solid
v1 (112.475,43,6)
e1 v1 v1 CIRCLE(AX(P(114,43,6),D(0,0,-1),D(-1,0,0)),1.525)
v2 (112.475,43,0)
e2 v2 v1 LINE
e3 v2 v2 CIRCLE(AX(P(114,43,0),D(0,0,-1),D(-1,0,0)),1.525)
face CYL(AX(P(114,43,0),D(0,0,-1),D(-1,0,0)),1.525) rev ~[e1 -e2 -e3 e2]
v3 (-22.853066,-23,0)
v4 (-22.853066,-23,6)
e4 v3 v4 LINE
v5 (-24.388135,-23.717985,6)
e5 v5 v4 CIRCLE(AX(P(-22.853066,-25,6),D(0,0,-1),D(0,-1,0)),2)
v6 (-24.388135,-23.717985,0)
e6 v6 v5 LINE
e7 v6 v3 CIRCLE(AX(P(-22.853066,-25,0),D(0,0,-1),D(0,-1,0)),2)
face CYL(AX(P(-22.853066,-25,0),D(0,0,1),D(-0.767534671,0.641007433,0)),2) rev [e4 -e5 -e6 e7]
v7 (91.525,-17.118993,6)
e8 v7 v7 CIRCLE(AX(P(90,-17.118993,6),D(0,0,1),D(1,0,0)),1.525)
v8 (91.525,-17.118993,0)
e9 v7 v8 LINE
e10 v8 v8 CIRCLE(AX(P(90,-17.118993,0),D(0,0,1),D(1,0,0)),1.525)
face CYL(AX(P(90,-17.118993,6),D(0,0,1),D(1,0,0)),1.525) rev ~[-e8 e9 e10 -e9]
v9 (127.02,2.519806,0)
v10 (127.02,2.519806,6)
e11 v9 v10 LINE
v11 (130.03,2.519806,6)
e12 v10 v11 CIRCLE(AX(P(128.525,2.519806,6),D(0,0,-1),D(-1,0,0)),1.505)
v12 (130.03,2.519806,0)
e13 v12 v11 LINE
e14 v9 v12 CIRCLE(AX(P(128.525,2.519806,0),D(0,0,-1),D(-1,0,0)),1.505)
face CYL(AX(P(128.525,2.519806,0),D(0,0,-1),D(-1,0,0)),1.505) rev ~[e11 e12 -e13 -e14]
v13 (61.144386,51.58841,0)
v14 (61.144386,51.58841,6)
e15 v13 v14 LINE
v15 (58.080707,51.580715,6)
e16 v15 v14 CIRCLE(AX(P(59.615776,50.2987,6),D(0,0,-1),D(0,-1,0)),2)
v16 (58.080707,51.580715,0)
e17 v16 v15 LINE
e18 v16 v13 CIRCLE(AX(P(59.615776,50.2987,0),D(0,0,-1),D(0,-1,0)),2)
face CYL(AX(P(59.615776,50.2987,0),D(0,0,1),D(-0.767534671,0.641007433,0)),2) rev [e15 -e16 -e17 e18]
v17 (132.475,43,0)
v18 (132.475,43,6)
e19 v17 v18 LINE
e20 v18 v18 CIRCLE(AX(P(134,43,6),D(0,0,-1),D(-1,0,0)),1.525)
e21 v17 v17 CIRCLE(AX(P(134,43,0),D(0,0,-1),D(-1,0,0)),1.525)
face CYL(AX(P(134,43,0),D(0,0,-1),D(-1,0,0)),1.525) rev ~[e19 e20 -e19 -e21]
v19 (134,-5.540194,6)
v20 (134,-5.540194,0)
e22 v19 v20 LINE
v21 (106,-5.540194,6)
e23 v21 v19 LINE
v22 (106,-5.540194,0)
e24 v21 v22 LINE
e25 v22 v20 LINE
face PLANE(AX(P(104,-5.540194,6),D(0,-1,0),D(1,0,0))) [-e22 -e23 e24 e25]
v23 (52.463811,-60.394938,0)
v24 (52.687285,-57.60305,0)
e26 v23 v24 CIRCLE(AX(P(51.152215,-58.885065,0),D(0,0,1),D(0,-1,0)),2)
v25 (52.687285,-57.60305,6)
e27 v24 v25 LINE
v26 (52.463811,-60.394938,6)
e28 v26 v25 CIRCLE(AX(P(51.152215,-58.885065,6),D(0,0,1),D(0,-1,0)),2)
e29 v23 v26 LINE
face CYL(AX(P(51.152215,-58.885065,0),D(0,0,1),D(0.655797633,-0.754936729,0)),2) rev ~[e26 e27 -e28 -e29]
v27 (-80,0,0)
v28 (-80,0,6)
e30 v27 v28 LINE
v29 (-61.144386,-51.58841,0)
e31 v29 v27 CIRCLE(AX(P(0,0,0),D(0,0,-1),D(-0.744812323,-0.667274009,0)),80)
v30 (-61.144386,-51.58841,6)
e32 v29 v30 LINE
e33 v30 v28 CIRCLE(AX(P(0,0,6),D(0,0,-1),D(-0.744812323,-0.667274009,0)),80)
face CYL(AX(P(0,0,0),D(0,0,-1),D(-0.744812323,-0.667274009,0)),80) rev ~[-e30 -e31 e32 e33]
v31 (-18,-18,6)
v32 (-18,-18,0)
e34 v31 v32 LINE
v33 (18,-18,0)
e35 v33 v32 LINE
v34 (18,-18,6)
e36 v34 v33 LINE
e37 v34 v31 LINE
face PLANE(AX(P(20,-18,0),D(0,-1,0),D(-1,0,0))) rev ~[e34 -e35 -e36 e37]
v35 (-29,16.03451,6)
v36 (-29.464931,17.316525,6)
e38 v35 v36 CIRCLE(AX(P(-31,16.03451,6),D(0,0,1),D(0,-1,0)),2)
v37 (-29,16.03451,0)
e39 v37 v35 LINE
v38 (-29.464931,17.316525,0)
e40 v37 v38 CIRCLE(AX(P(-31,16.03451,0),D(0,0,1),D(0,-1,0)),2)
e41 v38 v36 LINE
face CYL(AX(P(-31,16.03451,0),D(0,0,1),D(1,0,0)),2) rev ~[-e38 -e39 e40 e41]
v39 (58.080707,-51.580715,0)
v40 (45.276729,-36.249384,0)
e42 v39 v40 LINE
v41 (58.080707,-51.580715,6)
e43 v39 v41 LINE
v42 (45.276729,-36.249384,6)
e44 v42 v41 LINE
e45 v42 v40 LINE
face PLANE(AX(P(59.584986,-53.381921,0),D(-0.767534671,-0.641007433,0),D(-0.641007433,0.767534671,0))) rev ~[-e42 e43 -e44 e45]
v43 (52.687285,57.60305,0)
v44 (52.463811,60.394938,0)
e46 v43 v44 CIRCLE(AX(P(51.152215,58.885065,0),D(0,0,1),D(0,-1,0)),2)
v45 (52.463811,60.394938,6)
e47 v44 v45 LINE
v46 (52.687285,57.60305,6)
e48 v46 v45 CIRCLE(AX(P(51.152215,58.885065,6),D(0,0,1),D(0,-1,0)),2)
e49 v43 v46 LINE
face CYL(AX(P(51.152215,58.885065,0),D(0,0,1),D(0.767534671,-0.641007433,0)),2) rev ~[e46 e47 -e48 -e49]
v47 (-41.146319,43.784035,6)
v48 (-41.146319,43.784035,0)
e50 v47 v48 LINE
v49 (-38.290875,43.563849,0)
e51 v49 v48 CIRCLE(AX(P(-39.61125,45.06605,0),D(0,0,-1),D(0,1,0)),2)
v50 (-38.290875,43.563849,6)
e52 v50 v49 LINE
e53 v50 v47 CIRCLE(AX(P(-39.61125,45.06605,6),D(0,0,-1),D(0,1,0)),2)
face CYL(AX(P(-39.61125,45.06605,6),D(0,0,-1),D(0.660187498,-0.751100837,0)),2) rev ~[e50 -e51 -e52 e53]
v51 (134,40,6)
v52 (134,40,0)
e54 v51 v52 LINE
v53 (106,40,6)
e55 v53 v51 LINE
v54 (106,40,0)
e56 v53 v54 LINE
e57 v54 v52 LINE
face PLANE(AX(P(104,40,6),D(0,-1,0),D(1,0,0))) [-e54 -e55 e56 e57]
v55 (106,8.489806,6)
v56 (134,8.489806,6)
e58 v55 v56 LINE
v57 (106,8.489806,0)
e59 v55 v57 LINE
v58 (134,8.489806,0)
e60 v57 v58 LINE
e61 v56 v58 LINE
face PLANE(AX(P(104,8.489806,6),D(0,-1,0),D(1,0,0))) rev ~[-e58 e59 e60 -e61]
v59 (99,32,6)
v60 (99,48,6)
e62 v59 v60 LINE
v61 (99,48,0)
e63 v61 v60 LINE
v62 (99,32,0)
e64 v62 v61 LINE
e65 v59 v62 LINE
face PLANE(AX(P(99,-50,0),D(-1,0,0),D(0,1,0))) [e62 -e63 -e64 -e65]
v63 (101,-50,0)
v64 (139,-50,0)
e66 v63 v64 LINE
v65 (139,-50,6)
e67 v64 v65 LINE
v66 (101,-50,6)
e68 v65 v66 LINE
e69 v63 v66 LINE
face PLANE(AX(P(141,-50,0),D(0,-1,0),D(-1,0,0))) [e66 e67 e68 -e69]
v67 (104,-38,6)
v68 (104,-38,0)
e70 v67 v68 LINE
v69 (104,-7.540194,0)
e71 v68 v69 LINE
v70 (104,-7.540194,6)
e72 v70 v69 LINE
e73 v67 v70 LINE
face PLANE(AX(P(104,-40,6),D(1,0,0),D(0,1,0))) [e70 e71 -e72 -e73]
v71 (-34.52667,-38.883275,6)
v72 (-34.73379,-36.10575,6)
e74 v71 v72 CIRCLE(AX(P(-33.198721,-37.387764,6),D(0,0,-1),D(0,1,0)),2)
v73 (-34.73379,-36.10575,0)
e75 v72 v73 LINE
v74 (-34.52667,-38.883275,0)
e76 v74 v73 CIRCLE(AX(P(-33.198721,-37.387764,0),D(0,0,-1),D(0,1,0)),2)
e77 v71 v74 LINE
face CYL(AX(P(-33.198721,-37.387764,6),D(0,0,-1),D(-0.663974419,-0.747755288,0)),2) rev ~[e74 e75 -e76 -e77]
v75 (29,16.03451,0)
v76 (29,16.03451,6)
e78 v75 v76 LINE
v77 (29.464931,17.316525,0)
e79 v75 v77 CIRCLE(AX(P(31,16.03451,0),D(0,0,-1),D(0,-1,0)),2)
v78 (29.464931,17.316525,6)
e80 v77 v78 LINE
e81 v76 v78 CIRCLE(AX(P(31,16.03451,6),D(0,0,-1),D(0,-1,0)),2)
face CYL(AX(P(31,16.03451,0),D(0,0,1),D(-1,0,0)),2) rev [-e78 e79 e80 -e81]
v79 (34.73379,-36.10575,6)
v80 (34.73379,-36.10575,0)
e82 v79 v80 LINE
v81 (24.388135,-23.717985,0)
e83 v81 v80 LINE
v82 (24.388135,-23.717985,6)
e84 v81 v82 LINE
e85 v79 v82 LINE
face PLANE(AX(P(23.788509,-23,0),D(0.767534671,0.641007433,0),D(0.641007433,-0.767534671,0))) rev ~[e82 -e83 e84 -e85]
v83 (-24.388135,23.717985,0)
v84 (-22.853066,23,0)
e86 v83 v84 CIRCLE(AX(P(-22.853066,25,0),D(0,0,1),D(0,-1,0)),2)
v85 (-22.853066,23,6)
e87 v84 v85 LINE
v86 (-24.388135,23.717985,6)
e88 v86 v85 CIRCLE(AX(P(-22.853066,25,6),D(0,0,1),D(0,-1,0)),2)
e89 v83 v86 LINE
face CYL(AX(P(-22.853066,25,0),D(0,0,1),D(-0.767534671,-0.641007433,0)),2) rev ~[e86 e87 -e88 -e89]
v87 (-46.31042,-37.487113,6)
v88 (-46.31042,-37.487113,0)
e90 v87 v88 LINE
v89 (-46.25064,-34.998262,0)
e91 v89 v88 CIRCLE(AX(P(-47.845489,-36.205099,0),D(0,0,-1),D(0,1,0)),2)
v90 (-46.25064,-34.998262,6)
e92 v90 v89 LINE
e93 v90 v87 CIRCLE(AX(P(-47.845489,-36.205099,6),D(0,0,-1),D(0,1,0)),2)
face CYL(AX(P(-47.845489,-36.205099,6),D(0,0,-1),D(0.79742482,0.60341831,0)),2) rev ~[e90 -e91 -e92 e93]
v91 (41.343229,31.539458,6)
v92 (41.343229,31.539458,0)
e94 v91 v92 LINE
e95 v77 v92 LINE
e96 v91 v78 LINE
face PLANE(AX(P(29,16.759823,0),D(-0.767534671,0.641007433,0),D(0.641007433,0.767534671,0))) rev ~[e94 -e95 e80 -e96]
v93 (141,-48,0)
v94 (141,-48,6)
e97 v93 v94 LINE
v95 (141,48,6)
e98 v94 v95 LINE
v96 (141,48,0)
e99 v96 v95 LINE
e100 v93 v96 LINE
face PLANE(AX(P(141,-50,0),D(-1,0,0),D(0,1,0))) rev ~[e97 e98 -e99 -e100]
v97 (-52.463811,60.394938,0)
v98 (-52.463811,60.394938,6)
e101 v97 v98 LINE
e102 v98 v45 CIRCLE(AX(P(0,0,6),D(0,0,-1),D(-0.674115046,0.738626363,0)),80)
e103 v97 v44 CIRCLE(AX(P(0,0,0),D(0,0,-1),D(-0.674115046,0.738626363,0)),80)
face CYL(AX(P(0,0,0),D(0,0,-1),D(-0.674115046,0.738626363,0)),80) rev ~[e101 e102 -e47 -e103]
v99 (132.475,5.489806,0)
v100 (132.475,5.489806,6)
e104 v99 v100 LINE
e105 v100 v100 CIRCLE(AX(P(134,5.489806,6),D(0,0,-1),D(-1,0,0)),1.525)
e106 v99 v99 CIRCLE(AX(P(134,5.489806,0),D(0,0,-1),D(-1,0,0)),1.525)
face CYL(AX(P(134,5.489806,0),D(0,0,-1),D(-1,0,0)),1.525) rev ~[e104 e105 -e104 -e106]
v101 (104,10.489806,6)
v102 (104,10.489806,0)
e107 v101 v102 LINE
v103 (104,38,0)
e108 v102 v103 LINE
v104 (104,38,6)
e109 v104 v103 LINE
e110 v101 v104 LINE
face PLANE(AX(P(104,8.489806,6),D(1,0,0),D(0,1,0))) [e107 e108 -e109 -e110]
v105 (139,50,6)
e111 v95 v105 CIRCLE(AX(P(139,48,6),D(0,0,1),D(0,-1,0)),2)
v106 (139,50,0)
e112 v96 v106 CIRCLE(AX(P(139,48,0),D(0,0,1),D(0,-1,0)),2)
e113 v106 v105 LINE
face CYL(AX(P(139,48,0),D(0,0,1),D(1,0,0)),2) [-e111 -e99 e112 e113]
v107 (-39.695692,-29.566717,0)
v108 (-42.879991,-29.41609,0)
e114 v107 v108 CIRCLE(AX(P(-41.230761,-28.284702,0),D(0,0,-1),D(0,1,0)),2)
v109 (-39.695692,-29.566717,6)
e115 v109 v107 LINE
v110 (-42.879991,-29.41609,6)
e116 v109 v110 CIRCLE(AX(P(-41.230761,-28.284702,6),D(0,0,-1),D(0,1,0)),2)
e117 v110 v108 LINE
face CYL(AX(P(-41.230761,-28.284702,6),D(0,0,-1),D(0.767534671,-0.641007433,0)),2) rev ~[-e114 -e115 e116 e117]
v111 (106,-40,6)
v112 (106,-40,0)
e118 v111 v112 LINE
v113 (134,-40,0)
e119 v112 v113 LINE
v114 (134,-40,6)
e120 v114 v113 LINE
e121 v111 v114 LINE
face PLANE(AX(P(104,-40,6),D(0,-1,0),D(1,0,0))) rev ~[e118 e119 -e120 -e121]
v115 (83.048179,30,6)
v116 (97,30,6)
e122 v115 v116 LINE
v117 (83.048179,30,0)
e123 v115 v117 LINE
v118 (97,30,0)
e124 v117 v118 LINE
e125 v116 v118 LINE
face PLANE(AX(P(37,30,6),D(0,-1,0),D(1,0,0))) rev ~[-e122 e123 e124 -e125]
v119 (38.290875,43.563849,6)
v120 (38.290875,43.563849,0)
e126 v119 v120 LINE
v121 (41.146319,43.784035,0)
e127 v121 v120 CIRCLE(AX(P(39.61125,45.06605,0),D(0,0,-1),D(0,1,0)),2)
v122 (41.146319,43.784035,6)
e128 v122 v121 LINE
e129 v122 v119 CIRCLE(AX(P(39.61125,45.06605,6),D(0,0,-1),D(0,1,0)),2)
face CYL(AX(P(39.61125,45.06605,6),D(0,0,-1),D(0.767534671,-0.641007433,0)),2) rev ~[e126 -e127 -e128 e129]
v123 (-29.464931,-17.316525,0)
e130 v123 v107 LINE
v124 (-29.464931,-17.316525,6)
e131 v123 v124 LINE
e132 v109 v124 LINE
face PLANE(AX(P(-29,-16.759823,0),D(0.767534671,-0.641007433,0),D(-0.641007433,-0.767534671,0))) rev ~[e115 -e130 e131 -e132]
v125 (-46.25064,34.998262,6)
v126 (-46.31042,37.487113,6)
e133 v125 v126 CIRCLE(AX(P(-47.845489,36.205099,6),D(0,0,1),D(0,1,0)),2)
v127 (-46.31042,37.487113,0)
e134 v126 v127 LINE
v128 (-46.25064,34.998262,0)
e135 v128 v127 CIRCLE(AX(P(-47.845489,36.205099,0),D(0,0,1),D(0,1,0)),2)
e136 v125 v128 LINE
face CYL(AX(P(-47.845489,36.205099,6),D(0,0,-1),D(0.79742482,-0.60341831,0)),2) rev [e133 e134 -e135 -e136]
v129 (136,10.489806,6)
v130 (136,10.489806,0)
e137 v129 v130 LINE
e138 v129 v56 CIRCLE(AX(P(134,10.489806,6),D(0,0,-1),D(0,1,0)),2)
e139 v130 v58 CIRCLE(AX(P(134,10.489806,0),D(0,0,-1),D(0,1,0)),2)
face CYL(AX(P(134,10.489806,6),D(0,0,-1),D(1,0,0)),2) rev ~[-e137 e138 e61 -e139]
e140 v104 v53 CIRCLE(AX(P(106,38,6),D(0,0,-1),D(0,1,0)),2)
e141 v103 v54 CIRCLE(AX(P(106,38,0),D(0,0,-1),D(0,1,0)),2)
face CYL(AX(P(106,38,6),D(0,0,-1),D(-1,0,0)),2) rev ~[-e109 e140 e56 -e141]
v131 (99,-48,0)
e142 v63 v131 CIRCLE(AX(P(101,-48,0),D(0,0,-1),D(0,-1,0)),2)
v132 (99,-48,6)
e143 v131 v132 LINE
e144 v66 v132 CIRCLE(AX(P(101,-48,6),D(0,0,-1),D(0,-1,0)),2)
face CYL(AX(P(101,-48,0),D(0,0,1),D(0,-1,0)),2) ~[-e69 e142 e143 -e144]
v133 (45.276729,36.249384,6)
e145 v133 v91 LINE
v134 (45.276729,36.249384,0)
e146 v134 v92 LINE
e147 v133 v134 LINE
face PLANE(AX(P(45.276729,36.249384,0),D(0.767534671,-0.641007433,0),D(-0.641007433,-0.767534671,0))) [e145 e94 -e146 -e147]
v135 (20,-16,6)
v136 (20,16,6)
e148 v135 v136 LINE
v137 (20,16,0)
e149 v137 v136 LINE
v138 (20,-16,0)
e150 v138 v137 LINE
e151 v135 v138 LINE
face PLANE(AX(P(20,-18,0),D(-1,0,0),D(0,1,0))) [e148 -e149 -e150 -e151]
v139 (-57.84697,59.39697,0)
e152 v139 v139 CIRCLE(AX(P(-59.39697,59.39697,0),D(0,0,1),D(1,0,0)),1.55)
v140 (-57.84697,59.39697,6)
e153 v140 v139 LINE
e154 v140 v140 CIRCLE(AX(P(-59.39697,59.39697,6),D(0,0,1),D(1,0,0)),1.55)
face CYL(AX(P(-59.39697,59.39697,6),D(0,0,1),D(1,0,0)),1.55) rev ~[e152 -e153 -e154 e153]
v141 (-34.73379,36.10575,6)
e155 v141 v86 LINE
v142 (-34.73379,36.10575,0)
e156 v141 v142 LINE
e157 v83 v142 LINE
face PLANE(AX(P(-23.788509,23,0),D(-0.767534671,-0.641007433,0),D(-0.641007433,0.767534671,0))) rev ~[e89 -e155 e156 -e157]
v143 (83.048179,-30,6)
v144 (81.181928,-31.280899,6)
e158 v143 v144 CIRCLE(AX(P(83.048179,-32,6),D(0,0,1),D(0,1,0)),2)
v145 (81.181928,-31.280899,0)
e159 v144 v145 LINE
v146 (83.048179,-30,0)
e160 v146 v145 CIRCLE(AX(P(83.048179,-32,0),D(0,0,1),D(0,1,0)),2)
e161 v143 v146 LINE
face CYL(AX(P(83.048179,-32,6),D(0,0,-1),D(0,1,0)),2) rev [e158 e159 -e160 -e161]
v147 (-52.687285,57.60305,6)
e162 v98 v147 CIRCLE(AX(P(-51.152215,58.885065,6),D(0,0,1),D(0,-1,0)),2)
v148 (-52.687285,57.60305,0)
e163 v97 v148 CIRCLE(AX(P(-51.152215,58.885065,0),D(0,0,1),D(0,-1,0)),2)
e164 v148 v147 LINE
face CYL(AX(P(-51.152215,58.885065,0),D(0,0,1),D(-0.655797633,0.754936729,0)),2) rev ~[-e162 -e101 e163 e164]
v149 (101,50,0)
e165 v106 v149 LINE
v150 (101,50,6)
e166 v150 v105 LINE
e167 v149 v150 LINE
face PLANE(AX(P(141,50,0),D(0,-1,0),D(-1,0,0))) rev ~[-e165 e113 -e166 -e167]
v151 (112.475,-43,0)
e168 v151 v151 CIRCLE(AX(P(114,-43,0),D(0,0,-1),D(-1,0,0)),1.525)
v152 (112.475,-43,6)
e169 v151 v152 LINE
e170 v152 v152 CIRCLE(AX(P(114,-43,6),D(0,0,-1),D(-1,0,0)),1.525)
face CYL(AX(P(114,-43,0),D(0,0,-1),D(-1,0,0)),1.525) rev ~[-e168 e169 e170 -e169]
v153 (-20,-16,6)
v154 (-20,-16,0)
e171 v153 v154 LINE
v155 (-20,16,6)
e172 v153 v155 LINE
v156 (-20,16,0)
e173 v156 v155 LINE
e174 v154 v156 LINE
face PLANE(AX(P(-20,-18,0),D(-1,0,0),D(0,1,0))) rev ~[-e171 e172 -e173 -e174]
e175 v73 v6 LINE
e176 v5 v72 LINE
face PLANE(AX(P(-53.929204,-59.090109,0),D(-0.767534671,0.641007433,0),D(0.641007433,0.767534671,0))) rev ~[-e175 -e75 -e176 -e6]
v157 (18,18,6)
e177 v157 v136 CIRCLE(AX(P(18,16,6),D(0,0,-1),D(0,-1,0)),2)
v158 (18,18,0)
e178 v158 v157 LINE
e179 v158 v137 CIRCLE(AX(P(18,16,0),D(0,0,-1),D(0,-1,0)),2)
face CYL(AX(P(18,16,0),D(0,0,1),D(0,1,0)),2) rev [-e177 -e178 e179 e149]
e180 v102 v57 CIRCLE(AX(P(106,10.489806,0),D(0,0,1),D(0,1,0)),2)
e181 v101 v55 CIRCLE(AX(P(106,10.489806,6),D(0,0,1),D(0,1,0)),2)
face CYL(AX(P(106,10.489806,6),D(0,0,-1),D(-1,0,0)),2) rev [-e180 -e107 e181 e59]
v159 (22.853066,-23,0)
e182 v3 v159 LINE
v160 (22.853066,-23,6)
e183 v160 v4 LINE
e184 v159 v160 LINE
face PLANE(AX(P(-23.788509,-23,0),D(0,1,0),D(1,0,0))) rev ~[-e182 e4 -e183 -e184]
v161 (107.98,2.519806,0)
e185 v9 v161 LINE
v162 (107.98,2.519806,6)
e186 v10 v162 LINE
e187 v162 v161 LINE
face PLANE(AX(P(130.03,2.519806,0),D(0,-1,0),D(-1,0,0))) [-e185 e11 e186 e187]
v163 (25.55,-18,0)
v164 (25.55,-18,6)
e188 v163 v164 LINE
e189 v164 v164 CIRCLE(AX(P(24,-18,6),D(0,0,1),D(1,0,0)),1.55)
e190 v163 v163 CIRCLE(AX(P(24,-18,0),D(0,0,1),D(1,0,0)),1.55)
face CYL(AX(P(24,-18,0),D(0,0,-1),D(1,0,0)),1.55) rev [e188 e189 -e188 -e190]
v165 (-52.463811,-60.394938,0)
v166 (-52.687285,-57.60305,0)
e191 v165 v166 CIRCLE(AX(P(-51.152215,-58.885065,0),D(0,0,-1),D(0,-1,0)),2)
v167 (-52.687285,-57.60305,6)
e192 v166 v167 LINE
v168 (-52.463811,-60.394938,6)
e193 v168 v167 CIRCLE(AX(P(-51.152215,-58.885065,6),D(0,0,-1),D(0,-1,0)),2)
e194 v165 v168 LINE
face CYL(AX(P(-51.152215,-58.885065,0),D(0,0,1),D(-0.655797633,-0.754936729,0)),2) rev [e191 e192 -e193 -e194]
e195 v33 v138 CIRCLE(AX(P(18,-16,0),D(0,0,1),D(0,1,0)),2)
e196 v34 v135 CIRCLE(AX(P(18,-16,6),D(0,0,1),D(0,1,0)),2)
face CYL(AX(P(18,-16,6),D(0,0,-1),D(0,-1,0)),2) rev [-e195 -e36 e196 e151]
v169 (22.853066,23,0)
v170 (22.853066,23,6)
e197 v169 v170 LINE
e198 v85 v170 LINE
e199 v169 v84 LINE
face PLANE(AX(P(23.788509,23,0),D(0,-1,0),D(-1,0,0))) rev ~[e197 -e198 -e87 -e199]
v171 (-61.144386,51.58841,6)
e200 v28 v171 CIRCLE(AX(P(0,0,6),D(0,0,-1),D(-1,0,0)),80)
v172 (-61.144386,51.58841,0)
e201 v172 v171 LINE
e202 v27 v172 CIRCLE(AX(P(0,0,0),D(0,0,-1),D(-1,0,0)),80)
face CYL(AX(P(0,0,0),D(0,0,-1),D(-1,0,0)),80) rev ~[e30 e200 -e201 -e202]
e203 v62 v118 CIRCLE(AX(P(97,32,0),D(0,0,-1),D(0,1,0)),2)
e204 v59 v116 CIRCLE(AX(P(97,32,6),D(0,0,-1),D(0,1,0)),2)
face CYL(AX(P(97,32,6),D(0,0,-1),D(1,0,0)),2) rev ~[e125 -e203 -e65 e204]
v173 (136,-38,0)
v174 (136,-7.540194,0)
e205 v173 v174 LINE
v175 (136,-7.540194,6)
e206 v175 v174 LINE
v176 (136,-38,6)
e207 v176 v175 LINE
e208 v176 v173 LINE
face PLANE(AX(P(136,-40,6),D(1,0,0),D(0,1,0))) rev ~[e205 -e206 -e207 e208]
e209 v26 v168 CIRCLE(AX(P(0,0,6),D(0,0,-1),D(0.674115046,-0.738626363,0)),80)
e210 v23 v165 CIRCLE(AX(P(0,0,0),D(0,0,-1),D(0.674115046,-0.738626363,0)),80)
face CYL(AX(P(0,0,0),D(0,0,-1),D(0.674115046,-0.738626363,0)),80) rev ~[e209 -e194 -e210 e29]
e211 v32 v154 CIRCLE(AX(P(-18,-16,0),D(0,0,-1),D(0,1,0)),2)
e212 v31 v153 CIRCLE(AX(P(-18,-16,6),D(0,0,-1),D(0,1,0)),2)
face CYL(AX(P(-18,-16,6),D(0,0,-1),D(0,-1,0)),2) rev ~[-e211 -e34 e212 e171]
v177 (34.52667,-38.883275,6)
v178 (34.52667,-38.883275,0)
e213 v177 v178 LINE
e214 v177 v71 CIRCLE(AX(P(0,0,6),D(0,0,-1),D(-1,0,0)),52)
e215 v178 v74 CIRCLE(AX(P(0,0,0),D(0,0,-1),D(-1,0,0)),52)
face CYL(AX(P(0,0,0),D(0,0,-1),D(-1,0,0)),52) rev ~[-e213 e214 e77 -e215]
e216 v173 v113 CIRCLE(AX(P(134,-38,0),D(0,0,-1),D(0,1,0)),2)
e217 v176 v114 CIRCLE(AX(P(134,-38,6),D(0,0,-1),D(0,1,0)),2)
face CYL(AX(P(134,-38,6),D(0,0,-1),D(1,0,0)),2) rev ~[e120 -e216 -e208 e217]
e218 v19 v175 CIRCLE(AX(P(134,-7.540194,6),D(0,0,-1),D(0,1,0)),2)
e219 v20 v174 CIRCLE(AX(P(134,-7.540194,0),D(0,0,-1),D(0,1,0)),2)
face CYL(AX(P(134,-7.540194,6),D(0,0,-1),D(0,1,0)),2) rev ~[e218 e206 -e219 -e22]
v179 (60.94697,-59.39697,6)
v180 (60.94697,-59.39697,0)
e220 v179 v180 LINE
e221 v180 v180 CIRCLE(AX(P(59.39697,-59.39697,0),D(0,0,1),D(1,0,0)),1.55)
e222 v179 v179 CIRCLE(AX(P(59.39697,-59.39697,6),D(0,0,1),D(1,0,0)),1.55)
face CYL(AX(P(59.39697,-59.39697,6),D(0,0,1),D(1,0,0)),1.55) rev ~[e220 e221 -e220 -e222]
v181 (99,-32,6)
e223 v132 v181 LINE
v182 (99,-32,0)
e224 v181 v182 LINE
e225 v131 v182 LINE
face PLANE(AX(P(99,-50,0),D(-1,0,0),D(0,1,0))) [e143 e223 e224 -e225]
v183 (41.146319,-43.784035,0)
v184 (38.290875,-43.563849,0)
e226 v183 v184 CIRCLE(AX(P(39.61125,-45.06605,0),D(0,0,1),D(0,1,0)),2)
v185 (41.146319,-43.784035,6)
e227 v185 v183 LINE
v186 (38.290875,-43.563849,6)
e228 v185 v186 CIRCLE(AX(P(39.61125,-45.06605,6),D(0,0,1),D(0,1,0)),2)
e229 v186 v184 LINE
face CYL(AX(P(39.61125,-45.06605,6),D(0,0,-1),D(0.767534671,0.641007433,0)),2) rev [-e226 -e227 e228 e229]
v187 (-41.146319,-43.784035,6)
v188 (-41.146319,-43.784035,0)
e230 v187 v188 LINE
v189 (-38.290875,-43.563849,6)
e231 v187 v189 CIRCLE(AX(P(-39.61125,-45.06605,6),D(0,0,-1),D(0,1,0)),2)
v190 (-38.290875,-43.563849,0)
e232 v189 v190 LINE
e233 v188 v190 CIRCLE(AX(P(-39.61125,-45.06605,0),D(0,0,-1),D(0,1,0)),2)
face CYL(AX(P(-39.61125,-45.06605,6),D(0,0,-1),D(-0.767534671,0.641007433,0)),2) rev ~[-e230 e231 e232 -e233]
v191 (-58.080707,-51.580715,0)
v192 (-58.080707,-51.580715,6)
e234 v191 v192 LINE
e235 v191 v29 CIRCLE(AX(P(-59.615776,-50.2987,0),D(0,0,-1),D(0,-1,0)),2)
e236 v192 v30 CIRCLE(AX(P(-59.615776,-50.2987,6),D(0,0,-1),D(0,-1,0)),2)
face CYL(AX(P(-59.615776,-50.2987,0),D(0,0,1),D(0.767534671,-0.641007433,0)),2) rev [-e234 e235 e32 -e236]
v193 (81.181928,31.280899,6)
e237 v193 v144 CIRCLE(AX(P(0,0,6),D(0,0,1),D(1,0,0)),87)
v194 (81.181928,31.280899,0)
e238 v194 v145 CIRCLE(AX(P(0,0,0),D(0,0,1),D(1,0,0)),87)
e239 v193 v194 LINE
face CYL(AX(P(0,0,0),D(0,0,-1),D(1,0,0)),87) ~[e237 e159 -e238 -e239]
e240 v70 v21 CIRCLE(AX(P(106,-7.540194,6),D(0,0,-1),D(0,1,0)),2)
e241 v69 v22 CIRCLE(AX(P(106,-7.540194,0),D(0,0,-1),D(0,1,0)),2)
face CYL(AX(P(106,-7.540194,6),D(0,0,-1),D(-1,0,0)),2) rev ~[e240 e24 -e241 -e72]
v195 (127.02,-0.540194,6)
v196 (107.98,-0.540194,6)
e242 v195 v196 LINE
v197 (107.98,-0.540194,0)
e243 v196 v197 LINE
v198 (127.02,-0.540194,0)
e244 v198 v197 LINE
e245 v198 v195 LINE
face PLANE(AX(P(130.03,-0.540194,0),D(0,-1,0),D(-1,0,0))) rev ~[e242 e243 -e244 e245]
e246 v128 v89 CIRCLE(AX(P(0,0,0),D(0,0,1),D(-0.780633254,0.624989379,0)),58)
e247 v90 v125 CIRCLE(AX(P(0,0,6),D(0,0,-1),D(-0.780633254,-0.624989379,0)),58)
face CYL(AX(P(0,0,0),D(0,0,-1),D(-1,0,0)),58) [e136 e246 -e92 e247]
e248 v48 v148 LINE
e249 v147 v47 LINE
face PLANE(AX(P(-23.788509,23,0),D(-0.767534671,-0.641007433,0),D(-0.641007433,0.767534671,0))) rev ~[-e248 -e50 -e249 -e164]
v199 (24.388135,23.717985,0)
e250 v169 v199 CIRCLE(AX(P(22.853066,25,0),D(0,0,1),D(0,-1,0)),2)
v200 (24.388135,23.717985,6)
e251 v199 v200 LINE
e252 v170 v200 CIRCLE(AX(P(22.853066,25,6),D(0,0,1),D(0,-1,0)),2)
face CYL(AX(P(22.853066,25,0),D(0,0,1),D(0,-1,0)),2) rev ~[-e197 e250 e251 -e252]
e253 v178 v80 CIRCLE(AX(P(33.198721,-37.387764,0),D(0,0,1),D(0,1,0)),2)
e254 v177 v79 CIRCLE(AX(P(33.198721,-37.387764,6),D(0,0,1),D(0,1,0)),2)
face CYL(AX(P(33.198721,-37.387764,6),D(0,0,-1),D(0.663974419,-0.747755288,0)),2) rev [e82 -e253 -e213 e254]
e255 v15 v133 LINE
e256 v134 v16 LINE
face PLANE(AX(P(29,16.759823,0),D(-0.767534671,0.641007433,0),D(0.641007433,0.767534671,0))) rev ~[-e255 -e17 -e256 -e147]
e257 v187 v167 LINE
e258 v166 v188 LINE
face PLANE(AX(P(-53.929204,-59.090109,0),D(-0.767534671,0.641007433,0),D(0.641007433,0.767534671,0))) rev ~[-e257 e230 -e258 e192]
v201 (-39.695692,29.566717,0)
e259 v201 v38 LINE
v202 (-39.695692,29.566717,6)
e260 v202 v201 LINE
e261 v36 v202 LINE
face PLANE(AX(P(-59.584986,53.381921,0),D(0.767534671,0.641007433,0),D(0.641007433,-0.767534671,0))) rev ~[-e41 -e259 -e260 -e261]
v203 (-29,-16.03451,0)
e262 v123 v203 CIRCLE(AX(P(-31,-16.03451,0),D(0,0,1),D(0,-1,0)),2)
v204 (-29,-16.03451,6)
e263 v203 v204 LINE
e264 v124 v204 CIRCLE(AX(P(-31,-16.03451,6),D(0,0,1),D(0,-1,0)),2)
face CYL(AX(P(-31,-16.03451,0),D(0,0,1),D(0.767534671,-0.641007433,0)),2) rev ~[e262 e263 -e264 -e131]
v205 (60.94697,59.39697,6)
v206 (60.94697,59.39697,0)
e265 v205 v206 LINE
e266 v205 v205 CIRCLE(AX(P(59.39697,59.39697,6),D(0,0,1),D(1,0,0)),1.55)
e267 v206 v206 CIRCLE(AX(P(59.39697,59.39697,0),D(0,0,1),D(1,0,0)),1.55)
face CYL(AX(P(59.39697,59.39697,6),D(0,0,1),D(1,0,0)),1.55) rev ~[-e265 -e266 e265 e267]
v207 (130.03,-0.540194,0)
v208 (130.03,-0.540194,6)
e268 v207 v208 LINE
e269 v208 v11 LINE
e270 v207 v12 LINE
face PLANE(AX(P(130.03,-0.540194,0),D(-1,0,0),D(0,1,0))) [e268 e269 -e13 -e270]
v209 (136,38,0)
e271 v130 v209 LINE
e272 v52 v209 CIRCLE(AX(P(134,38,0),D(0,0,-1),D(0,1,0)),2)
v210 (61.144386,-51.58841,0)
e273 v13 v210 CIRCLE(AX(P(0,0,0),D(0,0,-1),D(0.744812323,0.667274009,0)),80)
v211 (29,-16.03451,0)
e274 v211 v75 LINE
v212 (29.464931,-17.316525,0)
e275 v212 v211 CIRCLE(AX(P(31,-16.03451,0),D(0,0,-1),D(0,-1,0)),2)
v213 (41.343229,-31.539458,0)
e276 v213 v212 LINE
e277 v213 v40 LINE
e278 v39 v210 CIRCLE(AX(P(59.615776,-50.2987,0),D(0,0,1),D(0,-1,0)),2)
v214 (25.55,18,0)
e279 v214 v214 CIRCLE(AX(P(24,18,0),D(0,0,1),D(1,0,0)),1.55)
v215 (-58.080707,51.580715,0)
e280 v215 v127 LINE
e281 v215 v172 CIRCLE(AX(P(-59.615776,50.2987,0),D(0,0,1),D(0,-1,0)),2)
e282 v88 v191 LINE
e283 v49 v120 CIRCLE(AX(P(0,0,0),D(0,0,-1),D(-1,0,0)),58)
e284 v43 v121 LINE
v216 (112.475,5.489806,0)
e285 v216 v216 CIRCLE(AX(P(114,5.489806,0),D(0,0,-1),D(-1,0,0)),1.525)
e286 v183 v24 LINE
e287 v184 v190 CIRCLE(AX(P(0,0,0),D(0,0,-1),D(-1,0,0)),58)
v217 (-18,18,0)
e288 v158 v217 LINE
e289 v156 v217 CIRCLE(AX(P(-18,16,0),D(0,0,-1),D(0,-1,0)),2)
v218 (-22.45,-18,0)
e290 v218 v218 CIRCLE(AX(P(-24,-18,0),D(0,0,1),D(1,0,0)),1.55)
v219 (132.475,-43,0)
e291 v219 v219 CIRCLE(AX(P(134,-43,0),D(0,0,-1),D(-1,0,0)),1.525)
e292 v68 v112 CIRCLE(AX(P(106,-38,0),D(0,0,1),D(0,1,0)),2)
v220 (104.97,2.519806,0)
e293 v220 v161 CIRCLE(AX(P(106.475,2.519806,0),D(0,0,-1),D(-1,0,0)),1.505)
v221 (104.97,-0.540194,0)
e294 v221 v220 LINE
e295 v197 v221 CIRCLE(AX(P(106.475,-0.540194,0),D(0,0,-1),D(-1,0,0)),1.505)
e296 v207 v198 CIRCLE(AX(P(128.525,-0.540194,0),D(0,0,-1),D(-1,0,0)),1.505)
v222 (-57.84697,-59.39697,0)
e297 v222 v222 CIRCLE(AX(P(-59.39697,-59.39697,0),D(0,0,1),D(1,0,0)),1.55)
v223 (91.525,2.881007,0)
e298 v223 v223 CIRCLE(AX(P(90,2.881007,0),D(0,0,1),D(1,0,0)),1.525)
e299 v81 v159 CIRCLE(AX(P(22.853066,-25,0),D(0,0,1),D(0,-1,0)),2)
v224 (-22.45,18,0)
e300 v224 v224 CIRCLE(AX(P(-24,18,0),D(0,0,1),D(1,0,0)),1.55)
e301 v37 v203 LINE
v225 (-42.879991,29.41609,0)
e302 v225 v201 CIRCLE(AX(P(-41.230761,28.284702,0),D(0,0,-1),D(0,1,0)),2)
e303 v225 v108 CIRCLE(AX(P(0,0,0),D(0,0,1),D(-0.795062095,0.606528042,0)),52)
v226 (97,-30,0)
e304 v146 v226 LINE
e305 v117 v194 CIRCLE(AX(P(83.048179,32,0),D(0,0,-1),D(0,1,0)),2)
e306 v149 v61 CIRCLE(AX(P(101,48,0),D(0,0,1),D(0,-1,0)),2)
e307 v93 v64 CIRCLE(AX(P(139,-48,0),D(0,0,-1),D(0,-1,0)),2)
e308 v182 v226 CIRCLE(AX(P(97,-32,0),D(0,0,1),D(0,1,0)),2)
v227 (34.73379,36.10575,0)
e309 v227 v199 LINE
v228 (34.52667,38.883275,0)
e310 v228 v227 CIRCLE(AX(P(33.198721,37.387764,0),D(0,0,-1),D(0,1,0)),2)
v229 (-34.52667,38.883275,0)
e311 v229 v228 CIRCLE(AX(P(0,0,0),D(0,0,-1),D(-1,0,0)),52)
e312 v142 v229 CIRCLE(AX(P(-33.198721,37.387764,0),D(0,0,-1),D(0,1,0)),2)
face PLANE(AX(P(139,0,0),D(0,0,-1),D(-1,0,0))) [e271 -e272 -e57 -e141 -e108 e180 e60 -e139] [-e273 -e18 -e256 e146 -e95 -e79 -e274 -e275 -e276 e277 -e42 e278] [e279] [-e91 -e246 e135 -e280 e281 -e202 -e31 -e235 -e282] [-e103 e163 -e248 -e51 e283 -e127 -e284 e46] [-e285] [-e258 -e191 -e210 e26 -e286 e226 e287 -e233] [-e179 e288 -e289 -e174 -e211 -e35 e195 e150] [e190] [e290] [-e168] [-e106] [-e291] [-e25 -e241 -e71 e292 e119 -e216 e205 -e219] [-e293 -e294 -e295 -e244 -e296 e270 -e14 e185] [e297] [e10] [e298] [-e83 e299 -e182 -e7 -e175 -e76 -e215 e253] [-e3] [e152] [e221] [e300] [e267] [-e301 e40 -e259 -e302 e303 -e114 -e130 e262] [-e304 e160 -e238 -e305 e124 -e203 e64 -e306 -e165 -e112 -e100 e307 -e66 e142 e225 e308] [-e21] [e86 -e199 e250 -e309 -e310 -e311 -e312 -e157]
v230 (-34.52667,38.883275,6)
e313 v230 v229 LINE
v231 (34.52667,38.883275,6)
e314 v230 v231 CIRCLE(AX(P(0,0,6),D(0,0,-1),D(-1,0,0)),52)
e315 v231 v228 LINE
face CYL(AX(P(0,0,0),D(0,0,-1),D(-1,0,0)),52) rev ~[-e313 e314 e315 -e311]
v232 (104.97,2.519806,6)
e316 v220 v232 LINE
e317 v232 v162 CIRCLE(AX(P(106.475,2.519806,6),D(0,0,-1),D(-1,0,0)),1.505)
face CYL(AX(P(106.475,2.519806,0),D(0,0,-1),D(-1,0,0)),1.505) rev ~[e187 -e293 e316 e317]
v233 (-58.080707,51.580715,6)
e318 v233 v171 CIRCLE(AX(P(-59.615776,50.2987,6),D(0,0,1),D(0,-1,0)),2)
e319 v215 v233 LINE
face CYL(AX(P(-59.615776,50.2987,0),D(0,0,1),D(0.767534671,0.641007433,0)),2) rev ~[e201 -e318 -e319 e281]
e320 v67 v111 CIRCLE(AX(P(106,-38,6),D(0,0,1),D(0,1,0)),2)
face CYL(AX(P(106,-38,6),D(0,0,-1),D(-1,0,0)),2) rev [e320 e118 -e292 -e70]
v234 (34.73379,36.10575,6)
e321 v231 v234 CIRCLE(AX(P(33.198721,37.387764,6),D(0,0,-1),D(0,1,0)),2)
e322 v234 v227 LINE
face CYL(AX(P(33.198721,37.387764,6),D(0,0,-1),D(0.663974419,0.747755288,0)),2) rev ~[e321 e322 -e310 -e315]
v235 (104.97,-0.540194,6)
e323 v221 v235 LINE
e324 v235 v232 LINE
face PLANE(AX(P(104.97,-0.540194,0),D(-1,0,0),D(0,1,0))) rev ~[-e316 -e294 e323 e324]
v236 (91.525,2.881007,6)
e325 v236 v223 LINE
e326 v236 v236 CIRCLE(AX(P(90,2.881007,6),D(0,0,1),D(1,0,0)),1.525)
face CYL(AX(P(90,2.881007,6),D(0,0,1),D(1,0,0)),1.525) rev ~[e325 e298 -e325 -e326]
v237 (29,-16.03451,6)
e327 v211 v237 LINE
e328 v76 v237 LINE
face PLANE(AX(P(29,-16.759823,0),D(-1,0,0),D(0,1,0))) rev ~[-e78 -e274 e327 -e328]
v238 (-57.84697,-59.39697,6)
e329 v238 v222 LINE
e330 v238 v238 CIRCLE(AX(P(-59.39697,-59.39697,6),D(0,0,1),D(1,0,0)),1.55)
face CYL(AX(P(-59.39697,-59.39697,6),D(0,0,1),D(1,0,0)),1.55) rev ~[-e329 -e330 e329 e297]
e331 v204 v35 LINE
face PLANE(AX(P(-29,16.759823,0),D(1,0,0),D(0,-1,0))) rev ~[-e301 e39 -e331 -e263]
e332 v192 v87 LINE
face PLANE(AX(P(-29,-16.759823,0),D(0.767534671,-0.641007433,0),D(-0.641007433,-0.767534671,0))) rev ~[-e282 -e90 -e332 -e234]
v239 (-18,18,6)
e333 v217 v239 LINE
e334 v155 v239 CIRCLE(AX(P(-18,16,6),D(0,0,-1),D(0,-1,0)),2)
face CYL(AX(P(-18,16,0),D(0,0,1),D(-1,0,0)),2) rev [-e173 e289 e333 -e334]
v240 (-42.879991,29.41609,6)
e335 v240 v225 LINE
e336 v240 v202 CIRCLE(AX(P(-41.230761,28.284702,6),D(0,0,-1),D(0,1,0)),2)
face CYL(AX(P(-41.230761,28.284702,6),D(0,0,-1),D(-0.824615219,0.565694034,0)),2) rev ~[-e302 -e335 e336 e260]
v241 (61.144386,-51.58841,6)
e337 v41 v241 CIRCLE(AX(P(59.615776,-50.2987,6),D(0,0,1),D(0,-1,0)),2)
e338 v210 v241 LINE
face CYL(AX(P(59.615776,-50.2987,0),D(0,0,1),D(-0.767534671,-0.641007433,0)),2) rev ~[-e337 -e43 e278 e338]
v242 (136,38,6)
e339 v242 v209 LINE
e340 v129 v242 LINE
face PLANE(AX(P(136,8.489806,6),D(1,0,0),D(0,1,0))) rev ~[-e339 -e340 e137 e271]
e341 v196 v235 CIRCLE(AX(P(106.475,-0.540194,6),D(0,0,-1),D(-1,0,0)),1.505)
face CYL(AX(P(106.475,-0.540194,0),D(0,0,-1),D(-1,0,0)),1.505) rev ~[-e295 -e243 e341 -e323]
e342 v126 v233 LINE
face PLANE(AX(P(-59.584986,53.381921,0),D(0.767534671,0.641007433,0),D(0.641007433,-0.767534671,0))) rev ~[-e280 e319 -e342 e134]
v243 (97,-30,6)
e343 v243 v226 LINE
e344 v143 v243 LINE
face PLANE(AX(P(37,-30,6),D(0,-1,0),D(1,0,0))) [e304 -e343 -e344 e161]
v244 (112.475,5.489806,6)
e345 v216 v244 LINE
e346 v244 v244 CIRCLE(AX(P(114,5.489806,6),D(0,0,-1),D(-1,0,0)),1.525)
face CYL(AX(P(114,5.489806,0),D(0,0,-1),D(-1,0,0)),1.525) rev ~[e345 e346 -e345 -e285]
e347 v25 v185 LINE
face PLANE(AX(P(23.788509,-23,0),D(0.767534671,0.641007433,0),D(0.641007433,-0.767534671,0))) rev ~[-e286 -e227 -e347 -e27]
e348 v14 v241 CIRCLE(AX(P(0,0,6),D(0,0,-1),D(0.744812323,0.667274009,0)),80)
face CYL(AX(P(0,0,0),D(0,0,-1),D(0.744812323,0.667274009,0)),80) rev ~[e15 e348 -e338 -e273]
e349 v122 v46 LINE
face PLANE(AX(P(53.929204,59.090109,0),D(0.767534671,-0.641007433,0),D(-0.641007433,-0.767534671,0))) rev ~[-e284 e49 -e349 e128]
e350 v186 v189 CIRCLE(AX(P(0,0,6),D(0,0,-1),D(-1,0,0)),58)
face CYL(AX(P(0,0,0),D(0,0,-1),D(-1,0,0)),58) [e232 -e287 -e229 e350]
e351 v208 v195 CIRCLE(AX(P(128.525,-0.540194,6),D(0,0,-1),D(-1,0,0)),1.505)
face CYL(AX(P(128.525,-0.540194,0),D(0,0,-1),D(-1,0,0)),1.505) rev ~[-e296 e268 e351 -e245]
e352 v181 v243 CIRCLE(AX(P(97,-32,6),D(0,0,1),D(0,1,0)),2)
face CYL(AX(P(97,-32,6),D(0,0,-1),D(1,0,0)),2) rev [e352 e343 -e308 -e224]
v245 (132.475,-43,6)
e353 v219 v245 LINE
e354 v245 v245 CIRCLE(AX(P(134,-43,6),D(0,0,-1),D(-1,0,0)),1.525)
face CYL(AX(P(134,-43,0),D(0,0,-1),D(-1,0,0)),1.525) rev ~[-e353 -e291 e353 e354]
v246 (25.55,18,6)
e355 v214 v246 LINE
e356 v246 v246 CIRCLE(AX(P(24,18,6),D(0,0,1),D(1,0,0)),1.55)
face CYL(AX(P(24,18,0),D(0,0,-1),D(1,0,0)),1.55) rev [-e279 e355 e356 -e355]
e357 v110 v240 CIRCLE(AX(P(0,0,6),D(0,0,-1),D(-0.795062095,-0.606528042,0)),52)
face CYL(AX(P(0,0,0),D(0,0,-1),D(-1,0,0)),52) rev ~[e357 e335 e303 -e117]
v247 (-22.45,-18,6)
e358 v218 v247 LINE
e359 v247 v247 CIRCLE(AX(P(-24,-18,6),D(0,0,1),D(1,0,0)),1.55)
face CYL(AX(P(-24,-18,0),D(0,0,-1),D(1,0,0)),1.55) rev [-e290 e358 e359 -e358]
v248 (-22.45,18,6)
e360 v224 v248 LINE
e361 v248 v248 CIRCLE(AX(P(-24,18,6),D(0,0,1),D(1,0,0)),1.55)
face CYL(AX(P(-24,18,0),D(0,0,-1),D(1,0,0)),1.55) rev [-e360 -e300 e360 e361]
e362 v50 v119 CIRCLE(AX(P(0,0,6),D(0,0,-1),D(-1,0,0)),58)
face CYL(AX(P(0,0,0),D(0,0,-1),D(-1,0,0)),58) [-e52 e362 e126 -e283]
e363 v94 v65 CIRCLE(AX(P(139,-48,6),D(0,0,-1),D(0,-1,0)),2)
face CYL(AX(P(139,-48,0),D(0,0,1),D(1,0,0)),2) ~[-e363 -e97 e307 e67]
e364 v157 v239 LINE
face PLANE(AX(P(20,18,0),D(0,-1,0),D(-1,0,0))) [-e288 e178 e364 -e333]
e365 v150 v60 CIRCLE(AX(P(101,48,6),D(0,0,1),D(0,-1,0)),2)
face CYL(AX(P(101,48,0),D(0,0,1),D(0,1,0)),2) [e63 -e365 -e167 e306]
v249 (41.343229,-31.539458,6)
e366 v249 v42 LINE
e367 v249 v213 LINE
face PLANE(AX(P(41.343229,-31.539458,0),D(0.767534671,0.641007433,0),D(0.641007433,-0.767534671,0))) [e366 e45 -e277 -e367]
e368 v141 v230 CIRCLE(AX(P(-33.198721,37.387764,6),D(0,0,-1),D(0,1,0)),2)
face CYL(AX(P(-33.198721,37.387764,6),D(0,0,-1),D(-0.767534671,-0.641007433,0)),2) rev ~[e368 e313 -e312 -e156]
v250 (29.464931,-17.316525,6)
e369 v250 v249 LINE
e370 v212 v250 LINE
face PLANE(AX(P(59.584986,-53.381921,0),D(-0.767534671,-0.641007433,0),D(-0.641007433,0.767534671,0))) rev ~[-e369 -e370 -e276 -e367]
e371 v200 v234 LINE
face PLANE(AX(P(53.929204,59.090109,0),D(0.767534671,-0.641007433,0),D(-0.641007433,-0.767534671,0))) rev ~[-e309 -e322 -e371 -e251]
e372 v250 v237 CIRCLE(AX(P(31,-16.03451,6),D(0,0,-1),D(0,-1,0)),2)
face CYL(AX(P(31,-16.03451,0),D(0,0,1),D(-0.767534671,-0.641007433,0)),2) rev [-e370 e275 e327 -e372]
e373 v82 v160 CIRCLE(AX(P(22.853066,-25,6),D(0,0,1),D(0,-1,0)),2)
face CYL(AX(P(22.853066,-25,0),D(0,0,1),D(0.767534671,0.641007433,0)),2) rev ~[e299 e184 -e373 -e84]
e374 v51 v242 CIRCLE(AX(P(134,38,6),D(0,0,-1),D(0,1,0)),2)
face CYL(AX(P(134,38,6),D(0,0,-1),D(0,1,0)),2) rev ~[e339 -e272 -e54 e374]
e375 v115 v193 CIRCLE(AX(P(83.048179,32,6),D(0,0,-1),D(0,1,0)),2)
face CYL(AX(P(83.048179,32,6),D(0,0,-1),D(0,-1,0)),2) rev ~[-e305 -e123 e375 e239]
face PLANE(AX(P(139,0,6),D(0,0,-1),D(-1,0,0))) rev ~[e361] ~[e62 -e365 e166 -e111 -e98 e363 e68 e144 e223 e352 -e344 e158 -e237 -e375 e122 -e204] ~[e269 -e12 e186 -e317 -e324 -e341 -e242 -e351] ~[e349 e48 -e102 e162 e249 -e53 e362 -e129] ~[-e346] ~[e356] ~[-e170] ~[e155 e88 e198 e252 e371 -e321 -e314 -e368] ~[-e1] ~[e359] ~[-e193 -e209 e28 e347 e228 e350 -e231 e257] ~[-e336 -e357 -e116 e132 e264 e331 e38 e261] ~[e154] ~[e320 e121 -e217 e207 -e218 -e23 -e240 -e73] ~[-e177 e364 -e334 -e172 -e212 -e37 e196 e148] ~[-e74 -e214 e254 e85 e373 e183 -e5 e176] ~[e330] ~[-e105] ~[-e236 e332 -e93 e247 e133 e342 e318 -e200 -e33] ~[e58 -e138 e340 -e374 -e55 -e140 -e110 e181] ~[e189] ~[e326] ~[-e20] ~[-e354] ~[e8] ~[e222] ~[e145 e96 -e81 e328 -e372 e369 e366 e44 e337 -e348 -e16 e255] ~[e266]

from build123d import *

# Parameters (mm, degrees)
SKETCH_1_R           = 87
SKETCH_1_R_2         = 1.55
EXTRUDE_1_DEPTH      = 6
SKETCH_2_R           = 1.55
CUT_EXTRUDE_1_DEPTH  = 40
SKETCH_3_W           = 100
SKETCH_3_H           = 60
EXTRUDE_2_DEPTH      = 6
CUT_EXTRUDE_2_DEPTH  = 40
SKETCH_5_R           = 58
SKETCH_5_R_2         = 52
EXTRUDE_3_DEPTH      = 6
CUT_EXTRUDE_3_DEPTH  = 70
FILLET_2_R           = 2
SKETCH_7_W           = 38
SKETCH_7_H           = 100
EXTRUDE_4_DEPTH      = 6
SKETCH_8_W           = 40
SKETCH_8_H           = 36
CUT_EXTRUDE_4_DEPTH  = 20
FILLET_3_R           = 2
SKETCH_9_R           = 1.525
CUT_EXTRUDE_5_DEPTH  = 80
SKETCH_10_R          = 1.525
CUT_EXTRUDE_6_DEPTH  = 80
SKETCH_11_W          = 25.06
SKETCH_11_H          = 3.06
CUT_EXTRUDE_7_DEPTH  = 30
SKETCH_12_R          = 1.505
CUT_EXTRUDE_8_DEPTH  = 60
SKETCH_13_W          = 4
SKETCH_13_H          = 100
EXTRUDE_5_DEPTH      = 6
SKETCH_14_R          = 1.525
CUT_EXTRUDE_9_DEPTH  = 6
SKETCH_15_W          = 32
SKETCH_15_H          = 31.510193749
SKETCH_15_H_2        = 34.459806251
CUT_EXTRUDE_10_DEPTH = 6
FILLET_4_R           = 2


with BuildPart() as part:
    # 草图1 → 凸台-拉伸1 (new body)
    with BuildSketch(Plane.XY):
        Circle(SKETCH_1_R)
        with Locations((24, 18)):
            Circle(SKETCH_1_R_2, mode=Mode.SUBTRACT)
        with Locations((-24, 18)):
            Circle(SKETCH_1_R_2, mode=Mode.SUBTRACT)
        with Locations((-24, -18)):
            Circle(SKETCH_1_R_2, mode=Mode.SUBTRACT)
        with Locations((24, -18)):
            Circle(SKETCH_1_R_2, mode=Mode.SUBTRACT)
    extrude(amount=EXTRUDE_1_DEPTH)

    # 草图2 → 切除-拉伸1 (cut)
    with BuildSketch(Plane.XY.offset(6)):
        with Locations((59.39696962, 59.39696962)):
            Circle(SKETCH_2_R)
        with Locations((59.39696962, -59.39696962)):
            Circle(SKETCH_2_R)
        with Locations((-59.39696962, -59.39696962)):
            Circle(SKETCH_2_R)
        with Locations((-59.39696962, 59.39696962)):
            Circle(SKETCH_2_R)
    extrude(amount=-CUT_EXTRUDE_1_DEPTH, mode=Mode.SUBTRACT)

    # 草图3 → 凸台-拉伸2 (add)
    with BuildSketch(Plane.XY.offset(6)):
        with Locations((87, 0)):
            Rectangle(SKETCH_3_W, SKETCH_3_H)
    extrude(amount=-EXTRUDE_2_DEPTH)

    # 草图4 → 切除-拉伸2 (cut)
    with BuildSketch(Plane(origin=(0, 0, 0), x_dir=(-1, 0, 0), z_dir=(0, 0, -1))):
        with BuildLine():
            Line((23.788509037, -23), (-23.788509037, -23))
            Line((-23.788509037, -23), (-53.929203709, -59.090109048))
            ThreePointArc((-53.929203709, -59.090109048), (0, -80), (53.929203709, -59.090109048))
            Line((53.929203709, -59.090109048), (23.788509037, -23))
        make_face()
        with BuildLine():
            Line((29, 16.759822751), (29, -16.759822751))
            Line((29, -16.759822751), (59.584985836, -53.38192075))
            ThreePointArc((59.584985836, -53.38192075), (74.722148212, -28.576223798), (80, 0))
            ThreePointArc((80, 0), (74.722148212, 28.576223798), (59.584985836, 53.38192075))
            Line((59.584985836, 53.38192075), (29, 16.759822751))
        make_face()
        with BuildLine():
            Line((-59.584985836, -53.38192075), (-29, -16.759822751))
            Line((-29, -16.759822751), (-29, 16.759822751))
            Line((-29, 16.759822751), (-59.584985836, 53.38192075))
            ThreePointArc((-59.584985836, 53.38192075), (-80, 0), (-59.584985836, -53.38192075))
        make_face()
        with BuildLine():
            Line((-53.929203709, 59.090109048), (-23.788509037, 23))
            Line((-23.788509037, 23), (23.788509037, 23))
            Line((23.788509037, 23), (53.929203709, 59.090109048))
            ThreePointArc((53.929203709, 59.090109048), (0, 80), (-53.929203709, 59.090109048))
        make_face()
    extrude(amount=-CUT_EXTRUDE_2_DEPTH, mode=Mode.SUBTRACT)

    # 草图5 → 凸台-拉伸3 (add)
    with BuildSketch(Plane(origin=(0, 0, 0), x_dir=(-1, 0, 0), z_dir=(0, 0, -1))):
        Circle(SKETCH_5_R)
        Circle(SKETCH_5_R_2, mode=Mode.SUBTRACT)
    extrude(amount=-EXTRUDE_3_DEPTH)

    # 草图6 → 切除-拉伸3 (cut)
    with BuildSketch(Plane(origin=(0, 0, 0), x_dir=(-1, 0, 0), z_dir=(0, 0, -1))):
        with BuildLine():
            Line((-45.276728704, 36.249383966), (-41.343228936, 31.539458162))
            Line((-41.343228936, 31.539458162), (-41.343228936, -31.539458162))
            Line((-41.343228936, -31.539458162), (-45.276728704, -36.249383966))
            ThreePointArc((-45.276728704, -36.249383966), (-58, 0), (-45.276728704, 36.249383966))
        make_face()
    extrude(amount=-CUT_EXTRUDE_3_DEPTH, mode=Mode.SUBTRACT)

    # 圆角2
    fillet_2_edges = [part.edges().sort_by_distance(p)[0] for p in [
        (-23.788509037, 23, 3),
        (23.788509037, 23, 3),
        (53.929203709, 59.090109048, 3),
        (53.929203709, -59.090109048, 3),
        (23.788509037, -23, 3),
        (-23.788509037, -23, 3),
        (-53.929203709, -59.090109048, 3),
        (-41.343228936, 31.539458162, 3),
        (-45.276728704, 36.249383966, 3),
        (39.808222335, -42.181814026, 3),
        (-39.808222335, 42.181814026, 3),
        (39.808222335, 42.181814026, 3),
        (-39.808222335, -42.181814026, 3),
        (35.954274067, -37.567142243, 3),
        (-35.954274067, -37.567142243, 3),
        (-35.954274067, 37.567142243, 3),
        (35.954274067, 37.567142243, 3),
        (-41.343228936, -31.539458162, 3),
        (-45.276728704, -36.249383966, 3),
        (-59.584985836, -53.38192075, 3),
        (-29, -16.759822751, 3),
        (-29, 16.759822751, 3),
        (-59.584985836, 53.38192075, 3),
        (59.584985836, 53.38192075, 3),
        (29, 16.759822751, 3),
        (29, -16.759822751, 3),
        (59.584985836, -53.38192075, 3),
        (-53.929203709, 59.090109048, 3),
    ]]
    fillet(fillet_2_edges, radius=FILLET_2_R)

    # 草图7 → 凸台-拉伸4 (add)
    with BuildSketch(Plane(origin=(0, 0, 0), x_dir=(-1, 0, 0), z_dir=(0, 0, -1))):
        with Locations((-118, 0)):
            Rectangle(SKETCH_7_W, SKETCH_7_H)
    extrude(amount=-EXTRUDE_4_DEPTH)

    # 草图8 → 切除-拉伸4 (cut, symmetric)
    with BuildSketch(Plane(origin=(0, 0, 0), x_dir=(-1, 0, 0), z_dir=(0, 0, -1))):
        Rectangle(SKETCH_8_W, SKETCH_8_H)
    extrude(amount=CUT_EXTRUDE_4_DEPTH, both=True, mode=Mode.SUBTRACT)

    # 圆角3
    fillet_3_edges = [part.edges().sort_by_distance(p)[0] for p in [
        (-20, 18, 3),
        (-20, -18, 3),
        (20, -18, 3),
        (20, 18, 3),
    ]]
    fillet(fillet_3_edges, radius=FILLET_3_R)

    # 草图9 → 切除-拉伸5 (cut)
    with BuildSketch(Plane(origin=(0, 0, 0), x_dir=(-1, 0, 0), z_dir=(0, 0, -1))):
        with Locations((-134, -43)):
            Circle(SKETCH_9_R)
        with Locations((-114, -43)):
            Circle(SKETCH_9_R)
        with Locations((-114, 43)):
            Circle(SKETCH_9_R)
        with Locations((-134, 43)):
            Circle(SKETCH_9_R)
    extrude(amount=-CUT_EXTRUDE_5_DEPTH, mode=Mode.SUBTRACT)

    # 草图10 → 切除-拉伸6 (cut)
    with BuildSketch(Plane.XY.offset(6)):
        with Locations((90, -17.118993381)):
            Circle(SKETCH_10_R)
        with Locations((90, 2.881006619)):
            Circle(SKETCH_10_R)
    extrude(amount=-CUT_EXTRUDE_6_DEPTH, mode=Mode.SUBTRACT)

    # 草图11 → 切除-拉伸7 (cut)
    with BuildSketch(Plane(origin=(0, 0, 0), x_dir=(-1, 0, 0), z_dir=(0, 0, -1))):
        with Locations((-117.5, 0.989806251)):
            Rectangle(SKETCH_11_W, SKETCH_11_H)
    extrude(amount=-CUT_EXTRUDE_7_DEPTH, mode=Mode.SUBTRACT)

    # 草图12 → 切除-拉伸8 (cut)
    with BuildSketch(Plane(origin=(0, 0, 0), x_dir=(-1, 0, 0), z_dir=(0, 0, -1))):
        with Locations((-128.525, 2.519806251)):
            Circle(SKETCH_12_R)
        with Locations((-128.525, -0.540193749)):
            Circle(SKETCH_12_R)
        with Locations((-106.475, 2.519806251)):
            Circle(SKETCH_12_R)
        with Locations((-106.475, -0.540193749)):
            Circle(SKETCH_12_R)
    extrude(amount=-CUT_EXTRUDE_8_DEPTH, mode=Mode.SUBTRACT)

    # 草图13 → 凸台-拉伸5 (add)
    with BuildSketch(Plane(origin=(0, 0, 0), x_dir=(-1, 0, 0), z_dir=(0, 0, -1))):
        with Locations((-139, 0)):
            Rectangle(SKETCH_13_W, SKETCH_13_H)
    extrude(amount=-EXTRUDE_5_DEPTH)

    # 草图14 → 切除-拉伸9 (cut)
    with BuildSketch(Plane(origin=(0, 0, 0), x_dir=(-1, 0, 0), z_dir=(0, 0, -1))):
        with Locations((-134, 5.489806251)):
            Circle(SKETCH_14_R)
        with Locations((-114, 5.489806251)):
            Circle(SKETCH_14_R)
    extrude(amount=-CUT_EXTRUDE_9_DEPTH, mode=Mode.SUBTRACT)

    # 草图15 → 切除-拉伸10 (cut)
    with BuildSketch(Plane.XY.offset(6)):
        with Locations((120, 24.244903126)):
            Rectangle(SKETCH_15_W, SKETCH_15_H)
        with Locations((120, -22.770096874)):
            Rectangle(SKETCH_15_W, SKETCH_15_H_2)
    extrude(amount=-CUT_EXTRUDE_10_DEPTH, mode=Mode.SUBTRACT)

    # 圆角4
    fillet_4_edges = [part.edges().sort_by_distance(p)[0] for p in [
        (99, 30, 3),
        (99, -30, 3),
        (81.663945533, 30, 3),
        (99, 50, 3),
        (99, -50, 3),
        (81.663945533, -30, 3),
        (141, 50, 3),
        (141, -50, 3),
        (136, 40, 3),
        (136, 8.489806251, 3),
        (104, 8.489806251, 3),
        (104, 40, 3),
        (136, -5.540193749, 3),
        (136, -40, 3),
        (104, -40, 3),
        (104, -5.540193749, 3),
    ]]
    fillet(fillet_4_edges, radius=FILLET_4_R)


solid = part.part
